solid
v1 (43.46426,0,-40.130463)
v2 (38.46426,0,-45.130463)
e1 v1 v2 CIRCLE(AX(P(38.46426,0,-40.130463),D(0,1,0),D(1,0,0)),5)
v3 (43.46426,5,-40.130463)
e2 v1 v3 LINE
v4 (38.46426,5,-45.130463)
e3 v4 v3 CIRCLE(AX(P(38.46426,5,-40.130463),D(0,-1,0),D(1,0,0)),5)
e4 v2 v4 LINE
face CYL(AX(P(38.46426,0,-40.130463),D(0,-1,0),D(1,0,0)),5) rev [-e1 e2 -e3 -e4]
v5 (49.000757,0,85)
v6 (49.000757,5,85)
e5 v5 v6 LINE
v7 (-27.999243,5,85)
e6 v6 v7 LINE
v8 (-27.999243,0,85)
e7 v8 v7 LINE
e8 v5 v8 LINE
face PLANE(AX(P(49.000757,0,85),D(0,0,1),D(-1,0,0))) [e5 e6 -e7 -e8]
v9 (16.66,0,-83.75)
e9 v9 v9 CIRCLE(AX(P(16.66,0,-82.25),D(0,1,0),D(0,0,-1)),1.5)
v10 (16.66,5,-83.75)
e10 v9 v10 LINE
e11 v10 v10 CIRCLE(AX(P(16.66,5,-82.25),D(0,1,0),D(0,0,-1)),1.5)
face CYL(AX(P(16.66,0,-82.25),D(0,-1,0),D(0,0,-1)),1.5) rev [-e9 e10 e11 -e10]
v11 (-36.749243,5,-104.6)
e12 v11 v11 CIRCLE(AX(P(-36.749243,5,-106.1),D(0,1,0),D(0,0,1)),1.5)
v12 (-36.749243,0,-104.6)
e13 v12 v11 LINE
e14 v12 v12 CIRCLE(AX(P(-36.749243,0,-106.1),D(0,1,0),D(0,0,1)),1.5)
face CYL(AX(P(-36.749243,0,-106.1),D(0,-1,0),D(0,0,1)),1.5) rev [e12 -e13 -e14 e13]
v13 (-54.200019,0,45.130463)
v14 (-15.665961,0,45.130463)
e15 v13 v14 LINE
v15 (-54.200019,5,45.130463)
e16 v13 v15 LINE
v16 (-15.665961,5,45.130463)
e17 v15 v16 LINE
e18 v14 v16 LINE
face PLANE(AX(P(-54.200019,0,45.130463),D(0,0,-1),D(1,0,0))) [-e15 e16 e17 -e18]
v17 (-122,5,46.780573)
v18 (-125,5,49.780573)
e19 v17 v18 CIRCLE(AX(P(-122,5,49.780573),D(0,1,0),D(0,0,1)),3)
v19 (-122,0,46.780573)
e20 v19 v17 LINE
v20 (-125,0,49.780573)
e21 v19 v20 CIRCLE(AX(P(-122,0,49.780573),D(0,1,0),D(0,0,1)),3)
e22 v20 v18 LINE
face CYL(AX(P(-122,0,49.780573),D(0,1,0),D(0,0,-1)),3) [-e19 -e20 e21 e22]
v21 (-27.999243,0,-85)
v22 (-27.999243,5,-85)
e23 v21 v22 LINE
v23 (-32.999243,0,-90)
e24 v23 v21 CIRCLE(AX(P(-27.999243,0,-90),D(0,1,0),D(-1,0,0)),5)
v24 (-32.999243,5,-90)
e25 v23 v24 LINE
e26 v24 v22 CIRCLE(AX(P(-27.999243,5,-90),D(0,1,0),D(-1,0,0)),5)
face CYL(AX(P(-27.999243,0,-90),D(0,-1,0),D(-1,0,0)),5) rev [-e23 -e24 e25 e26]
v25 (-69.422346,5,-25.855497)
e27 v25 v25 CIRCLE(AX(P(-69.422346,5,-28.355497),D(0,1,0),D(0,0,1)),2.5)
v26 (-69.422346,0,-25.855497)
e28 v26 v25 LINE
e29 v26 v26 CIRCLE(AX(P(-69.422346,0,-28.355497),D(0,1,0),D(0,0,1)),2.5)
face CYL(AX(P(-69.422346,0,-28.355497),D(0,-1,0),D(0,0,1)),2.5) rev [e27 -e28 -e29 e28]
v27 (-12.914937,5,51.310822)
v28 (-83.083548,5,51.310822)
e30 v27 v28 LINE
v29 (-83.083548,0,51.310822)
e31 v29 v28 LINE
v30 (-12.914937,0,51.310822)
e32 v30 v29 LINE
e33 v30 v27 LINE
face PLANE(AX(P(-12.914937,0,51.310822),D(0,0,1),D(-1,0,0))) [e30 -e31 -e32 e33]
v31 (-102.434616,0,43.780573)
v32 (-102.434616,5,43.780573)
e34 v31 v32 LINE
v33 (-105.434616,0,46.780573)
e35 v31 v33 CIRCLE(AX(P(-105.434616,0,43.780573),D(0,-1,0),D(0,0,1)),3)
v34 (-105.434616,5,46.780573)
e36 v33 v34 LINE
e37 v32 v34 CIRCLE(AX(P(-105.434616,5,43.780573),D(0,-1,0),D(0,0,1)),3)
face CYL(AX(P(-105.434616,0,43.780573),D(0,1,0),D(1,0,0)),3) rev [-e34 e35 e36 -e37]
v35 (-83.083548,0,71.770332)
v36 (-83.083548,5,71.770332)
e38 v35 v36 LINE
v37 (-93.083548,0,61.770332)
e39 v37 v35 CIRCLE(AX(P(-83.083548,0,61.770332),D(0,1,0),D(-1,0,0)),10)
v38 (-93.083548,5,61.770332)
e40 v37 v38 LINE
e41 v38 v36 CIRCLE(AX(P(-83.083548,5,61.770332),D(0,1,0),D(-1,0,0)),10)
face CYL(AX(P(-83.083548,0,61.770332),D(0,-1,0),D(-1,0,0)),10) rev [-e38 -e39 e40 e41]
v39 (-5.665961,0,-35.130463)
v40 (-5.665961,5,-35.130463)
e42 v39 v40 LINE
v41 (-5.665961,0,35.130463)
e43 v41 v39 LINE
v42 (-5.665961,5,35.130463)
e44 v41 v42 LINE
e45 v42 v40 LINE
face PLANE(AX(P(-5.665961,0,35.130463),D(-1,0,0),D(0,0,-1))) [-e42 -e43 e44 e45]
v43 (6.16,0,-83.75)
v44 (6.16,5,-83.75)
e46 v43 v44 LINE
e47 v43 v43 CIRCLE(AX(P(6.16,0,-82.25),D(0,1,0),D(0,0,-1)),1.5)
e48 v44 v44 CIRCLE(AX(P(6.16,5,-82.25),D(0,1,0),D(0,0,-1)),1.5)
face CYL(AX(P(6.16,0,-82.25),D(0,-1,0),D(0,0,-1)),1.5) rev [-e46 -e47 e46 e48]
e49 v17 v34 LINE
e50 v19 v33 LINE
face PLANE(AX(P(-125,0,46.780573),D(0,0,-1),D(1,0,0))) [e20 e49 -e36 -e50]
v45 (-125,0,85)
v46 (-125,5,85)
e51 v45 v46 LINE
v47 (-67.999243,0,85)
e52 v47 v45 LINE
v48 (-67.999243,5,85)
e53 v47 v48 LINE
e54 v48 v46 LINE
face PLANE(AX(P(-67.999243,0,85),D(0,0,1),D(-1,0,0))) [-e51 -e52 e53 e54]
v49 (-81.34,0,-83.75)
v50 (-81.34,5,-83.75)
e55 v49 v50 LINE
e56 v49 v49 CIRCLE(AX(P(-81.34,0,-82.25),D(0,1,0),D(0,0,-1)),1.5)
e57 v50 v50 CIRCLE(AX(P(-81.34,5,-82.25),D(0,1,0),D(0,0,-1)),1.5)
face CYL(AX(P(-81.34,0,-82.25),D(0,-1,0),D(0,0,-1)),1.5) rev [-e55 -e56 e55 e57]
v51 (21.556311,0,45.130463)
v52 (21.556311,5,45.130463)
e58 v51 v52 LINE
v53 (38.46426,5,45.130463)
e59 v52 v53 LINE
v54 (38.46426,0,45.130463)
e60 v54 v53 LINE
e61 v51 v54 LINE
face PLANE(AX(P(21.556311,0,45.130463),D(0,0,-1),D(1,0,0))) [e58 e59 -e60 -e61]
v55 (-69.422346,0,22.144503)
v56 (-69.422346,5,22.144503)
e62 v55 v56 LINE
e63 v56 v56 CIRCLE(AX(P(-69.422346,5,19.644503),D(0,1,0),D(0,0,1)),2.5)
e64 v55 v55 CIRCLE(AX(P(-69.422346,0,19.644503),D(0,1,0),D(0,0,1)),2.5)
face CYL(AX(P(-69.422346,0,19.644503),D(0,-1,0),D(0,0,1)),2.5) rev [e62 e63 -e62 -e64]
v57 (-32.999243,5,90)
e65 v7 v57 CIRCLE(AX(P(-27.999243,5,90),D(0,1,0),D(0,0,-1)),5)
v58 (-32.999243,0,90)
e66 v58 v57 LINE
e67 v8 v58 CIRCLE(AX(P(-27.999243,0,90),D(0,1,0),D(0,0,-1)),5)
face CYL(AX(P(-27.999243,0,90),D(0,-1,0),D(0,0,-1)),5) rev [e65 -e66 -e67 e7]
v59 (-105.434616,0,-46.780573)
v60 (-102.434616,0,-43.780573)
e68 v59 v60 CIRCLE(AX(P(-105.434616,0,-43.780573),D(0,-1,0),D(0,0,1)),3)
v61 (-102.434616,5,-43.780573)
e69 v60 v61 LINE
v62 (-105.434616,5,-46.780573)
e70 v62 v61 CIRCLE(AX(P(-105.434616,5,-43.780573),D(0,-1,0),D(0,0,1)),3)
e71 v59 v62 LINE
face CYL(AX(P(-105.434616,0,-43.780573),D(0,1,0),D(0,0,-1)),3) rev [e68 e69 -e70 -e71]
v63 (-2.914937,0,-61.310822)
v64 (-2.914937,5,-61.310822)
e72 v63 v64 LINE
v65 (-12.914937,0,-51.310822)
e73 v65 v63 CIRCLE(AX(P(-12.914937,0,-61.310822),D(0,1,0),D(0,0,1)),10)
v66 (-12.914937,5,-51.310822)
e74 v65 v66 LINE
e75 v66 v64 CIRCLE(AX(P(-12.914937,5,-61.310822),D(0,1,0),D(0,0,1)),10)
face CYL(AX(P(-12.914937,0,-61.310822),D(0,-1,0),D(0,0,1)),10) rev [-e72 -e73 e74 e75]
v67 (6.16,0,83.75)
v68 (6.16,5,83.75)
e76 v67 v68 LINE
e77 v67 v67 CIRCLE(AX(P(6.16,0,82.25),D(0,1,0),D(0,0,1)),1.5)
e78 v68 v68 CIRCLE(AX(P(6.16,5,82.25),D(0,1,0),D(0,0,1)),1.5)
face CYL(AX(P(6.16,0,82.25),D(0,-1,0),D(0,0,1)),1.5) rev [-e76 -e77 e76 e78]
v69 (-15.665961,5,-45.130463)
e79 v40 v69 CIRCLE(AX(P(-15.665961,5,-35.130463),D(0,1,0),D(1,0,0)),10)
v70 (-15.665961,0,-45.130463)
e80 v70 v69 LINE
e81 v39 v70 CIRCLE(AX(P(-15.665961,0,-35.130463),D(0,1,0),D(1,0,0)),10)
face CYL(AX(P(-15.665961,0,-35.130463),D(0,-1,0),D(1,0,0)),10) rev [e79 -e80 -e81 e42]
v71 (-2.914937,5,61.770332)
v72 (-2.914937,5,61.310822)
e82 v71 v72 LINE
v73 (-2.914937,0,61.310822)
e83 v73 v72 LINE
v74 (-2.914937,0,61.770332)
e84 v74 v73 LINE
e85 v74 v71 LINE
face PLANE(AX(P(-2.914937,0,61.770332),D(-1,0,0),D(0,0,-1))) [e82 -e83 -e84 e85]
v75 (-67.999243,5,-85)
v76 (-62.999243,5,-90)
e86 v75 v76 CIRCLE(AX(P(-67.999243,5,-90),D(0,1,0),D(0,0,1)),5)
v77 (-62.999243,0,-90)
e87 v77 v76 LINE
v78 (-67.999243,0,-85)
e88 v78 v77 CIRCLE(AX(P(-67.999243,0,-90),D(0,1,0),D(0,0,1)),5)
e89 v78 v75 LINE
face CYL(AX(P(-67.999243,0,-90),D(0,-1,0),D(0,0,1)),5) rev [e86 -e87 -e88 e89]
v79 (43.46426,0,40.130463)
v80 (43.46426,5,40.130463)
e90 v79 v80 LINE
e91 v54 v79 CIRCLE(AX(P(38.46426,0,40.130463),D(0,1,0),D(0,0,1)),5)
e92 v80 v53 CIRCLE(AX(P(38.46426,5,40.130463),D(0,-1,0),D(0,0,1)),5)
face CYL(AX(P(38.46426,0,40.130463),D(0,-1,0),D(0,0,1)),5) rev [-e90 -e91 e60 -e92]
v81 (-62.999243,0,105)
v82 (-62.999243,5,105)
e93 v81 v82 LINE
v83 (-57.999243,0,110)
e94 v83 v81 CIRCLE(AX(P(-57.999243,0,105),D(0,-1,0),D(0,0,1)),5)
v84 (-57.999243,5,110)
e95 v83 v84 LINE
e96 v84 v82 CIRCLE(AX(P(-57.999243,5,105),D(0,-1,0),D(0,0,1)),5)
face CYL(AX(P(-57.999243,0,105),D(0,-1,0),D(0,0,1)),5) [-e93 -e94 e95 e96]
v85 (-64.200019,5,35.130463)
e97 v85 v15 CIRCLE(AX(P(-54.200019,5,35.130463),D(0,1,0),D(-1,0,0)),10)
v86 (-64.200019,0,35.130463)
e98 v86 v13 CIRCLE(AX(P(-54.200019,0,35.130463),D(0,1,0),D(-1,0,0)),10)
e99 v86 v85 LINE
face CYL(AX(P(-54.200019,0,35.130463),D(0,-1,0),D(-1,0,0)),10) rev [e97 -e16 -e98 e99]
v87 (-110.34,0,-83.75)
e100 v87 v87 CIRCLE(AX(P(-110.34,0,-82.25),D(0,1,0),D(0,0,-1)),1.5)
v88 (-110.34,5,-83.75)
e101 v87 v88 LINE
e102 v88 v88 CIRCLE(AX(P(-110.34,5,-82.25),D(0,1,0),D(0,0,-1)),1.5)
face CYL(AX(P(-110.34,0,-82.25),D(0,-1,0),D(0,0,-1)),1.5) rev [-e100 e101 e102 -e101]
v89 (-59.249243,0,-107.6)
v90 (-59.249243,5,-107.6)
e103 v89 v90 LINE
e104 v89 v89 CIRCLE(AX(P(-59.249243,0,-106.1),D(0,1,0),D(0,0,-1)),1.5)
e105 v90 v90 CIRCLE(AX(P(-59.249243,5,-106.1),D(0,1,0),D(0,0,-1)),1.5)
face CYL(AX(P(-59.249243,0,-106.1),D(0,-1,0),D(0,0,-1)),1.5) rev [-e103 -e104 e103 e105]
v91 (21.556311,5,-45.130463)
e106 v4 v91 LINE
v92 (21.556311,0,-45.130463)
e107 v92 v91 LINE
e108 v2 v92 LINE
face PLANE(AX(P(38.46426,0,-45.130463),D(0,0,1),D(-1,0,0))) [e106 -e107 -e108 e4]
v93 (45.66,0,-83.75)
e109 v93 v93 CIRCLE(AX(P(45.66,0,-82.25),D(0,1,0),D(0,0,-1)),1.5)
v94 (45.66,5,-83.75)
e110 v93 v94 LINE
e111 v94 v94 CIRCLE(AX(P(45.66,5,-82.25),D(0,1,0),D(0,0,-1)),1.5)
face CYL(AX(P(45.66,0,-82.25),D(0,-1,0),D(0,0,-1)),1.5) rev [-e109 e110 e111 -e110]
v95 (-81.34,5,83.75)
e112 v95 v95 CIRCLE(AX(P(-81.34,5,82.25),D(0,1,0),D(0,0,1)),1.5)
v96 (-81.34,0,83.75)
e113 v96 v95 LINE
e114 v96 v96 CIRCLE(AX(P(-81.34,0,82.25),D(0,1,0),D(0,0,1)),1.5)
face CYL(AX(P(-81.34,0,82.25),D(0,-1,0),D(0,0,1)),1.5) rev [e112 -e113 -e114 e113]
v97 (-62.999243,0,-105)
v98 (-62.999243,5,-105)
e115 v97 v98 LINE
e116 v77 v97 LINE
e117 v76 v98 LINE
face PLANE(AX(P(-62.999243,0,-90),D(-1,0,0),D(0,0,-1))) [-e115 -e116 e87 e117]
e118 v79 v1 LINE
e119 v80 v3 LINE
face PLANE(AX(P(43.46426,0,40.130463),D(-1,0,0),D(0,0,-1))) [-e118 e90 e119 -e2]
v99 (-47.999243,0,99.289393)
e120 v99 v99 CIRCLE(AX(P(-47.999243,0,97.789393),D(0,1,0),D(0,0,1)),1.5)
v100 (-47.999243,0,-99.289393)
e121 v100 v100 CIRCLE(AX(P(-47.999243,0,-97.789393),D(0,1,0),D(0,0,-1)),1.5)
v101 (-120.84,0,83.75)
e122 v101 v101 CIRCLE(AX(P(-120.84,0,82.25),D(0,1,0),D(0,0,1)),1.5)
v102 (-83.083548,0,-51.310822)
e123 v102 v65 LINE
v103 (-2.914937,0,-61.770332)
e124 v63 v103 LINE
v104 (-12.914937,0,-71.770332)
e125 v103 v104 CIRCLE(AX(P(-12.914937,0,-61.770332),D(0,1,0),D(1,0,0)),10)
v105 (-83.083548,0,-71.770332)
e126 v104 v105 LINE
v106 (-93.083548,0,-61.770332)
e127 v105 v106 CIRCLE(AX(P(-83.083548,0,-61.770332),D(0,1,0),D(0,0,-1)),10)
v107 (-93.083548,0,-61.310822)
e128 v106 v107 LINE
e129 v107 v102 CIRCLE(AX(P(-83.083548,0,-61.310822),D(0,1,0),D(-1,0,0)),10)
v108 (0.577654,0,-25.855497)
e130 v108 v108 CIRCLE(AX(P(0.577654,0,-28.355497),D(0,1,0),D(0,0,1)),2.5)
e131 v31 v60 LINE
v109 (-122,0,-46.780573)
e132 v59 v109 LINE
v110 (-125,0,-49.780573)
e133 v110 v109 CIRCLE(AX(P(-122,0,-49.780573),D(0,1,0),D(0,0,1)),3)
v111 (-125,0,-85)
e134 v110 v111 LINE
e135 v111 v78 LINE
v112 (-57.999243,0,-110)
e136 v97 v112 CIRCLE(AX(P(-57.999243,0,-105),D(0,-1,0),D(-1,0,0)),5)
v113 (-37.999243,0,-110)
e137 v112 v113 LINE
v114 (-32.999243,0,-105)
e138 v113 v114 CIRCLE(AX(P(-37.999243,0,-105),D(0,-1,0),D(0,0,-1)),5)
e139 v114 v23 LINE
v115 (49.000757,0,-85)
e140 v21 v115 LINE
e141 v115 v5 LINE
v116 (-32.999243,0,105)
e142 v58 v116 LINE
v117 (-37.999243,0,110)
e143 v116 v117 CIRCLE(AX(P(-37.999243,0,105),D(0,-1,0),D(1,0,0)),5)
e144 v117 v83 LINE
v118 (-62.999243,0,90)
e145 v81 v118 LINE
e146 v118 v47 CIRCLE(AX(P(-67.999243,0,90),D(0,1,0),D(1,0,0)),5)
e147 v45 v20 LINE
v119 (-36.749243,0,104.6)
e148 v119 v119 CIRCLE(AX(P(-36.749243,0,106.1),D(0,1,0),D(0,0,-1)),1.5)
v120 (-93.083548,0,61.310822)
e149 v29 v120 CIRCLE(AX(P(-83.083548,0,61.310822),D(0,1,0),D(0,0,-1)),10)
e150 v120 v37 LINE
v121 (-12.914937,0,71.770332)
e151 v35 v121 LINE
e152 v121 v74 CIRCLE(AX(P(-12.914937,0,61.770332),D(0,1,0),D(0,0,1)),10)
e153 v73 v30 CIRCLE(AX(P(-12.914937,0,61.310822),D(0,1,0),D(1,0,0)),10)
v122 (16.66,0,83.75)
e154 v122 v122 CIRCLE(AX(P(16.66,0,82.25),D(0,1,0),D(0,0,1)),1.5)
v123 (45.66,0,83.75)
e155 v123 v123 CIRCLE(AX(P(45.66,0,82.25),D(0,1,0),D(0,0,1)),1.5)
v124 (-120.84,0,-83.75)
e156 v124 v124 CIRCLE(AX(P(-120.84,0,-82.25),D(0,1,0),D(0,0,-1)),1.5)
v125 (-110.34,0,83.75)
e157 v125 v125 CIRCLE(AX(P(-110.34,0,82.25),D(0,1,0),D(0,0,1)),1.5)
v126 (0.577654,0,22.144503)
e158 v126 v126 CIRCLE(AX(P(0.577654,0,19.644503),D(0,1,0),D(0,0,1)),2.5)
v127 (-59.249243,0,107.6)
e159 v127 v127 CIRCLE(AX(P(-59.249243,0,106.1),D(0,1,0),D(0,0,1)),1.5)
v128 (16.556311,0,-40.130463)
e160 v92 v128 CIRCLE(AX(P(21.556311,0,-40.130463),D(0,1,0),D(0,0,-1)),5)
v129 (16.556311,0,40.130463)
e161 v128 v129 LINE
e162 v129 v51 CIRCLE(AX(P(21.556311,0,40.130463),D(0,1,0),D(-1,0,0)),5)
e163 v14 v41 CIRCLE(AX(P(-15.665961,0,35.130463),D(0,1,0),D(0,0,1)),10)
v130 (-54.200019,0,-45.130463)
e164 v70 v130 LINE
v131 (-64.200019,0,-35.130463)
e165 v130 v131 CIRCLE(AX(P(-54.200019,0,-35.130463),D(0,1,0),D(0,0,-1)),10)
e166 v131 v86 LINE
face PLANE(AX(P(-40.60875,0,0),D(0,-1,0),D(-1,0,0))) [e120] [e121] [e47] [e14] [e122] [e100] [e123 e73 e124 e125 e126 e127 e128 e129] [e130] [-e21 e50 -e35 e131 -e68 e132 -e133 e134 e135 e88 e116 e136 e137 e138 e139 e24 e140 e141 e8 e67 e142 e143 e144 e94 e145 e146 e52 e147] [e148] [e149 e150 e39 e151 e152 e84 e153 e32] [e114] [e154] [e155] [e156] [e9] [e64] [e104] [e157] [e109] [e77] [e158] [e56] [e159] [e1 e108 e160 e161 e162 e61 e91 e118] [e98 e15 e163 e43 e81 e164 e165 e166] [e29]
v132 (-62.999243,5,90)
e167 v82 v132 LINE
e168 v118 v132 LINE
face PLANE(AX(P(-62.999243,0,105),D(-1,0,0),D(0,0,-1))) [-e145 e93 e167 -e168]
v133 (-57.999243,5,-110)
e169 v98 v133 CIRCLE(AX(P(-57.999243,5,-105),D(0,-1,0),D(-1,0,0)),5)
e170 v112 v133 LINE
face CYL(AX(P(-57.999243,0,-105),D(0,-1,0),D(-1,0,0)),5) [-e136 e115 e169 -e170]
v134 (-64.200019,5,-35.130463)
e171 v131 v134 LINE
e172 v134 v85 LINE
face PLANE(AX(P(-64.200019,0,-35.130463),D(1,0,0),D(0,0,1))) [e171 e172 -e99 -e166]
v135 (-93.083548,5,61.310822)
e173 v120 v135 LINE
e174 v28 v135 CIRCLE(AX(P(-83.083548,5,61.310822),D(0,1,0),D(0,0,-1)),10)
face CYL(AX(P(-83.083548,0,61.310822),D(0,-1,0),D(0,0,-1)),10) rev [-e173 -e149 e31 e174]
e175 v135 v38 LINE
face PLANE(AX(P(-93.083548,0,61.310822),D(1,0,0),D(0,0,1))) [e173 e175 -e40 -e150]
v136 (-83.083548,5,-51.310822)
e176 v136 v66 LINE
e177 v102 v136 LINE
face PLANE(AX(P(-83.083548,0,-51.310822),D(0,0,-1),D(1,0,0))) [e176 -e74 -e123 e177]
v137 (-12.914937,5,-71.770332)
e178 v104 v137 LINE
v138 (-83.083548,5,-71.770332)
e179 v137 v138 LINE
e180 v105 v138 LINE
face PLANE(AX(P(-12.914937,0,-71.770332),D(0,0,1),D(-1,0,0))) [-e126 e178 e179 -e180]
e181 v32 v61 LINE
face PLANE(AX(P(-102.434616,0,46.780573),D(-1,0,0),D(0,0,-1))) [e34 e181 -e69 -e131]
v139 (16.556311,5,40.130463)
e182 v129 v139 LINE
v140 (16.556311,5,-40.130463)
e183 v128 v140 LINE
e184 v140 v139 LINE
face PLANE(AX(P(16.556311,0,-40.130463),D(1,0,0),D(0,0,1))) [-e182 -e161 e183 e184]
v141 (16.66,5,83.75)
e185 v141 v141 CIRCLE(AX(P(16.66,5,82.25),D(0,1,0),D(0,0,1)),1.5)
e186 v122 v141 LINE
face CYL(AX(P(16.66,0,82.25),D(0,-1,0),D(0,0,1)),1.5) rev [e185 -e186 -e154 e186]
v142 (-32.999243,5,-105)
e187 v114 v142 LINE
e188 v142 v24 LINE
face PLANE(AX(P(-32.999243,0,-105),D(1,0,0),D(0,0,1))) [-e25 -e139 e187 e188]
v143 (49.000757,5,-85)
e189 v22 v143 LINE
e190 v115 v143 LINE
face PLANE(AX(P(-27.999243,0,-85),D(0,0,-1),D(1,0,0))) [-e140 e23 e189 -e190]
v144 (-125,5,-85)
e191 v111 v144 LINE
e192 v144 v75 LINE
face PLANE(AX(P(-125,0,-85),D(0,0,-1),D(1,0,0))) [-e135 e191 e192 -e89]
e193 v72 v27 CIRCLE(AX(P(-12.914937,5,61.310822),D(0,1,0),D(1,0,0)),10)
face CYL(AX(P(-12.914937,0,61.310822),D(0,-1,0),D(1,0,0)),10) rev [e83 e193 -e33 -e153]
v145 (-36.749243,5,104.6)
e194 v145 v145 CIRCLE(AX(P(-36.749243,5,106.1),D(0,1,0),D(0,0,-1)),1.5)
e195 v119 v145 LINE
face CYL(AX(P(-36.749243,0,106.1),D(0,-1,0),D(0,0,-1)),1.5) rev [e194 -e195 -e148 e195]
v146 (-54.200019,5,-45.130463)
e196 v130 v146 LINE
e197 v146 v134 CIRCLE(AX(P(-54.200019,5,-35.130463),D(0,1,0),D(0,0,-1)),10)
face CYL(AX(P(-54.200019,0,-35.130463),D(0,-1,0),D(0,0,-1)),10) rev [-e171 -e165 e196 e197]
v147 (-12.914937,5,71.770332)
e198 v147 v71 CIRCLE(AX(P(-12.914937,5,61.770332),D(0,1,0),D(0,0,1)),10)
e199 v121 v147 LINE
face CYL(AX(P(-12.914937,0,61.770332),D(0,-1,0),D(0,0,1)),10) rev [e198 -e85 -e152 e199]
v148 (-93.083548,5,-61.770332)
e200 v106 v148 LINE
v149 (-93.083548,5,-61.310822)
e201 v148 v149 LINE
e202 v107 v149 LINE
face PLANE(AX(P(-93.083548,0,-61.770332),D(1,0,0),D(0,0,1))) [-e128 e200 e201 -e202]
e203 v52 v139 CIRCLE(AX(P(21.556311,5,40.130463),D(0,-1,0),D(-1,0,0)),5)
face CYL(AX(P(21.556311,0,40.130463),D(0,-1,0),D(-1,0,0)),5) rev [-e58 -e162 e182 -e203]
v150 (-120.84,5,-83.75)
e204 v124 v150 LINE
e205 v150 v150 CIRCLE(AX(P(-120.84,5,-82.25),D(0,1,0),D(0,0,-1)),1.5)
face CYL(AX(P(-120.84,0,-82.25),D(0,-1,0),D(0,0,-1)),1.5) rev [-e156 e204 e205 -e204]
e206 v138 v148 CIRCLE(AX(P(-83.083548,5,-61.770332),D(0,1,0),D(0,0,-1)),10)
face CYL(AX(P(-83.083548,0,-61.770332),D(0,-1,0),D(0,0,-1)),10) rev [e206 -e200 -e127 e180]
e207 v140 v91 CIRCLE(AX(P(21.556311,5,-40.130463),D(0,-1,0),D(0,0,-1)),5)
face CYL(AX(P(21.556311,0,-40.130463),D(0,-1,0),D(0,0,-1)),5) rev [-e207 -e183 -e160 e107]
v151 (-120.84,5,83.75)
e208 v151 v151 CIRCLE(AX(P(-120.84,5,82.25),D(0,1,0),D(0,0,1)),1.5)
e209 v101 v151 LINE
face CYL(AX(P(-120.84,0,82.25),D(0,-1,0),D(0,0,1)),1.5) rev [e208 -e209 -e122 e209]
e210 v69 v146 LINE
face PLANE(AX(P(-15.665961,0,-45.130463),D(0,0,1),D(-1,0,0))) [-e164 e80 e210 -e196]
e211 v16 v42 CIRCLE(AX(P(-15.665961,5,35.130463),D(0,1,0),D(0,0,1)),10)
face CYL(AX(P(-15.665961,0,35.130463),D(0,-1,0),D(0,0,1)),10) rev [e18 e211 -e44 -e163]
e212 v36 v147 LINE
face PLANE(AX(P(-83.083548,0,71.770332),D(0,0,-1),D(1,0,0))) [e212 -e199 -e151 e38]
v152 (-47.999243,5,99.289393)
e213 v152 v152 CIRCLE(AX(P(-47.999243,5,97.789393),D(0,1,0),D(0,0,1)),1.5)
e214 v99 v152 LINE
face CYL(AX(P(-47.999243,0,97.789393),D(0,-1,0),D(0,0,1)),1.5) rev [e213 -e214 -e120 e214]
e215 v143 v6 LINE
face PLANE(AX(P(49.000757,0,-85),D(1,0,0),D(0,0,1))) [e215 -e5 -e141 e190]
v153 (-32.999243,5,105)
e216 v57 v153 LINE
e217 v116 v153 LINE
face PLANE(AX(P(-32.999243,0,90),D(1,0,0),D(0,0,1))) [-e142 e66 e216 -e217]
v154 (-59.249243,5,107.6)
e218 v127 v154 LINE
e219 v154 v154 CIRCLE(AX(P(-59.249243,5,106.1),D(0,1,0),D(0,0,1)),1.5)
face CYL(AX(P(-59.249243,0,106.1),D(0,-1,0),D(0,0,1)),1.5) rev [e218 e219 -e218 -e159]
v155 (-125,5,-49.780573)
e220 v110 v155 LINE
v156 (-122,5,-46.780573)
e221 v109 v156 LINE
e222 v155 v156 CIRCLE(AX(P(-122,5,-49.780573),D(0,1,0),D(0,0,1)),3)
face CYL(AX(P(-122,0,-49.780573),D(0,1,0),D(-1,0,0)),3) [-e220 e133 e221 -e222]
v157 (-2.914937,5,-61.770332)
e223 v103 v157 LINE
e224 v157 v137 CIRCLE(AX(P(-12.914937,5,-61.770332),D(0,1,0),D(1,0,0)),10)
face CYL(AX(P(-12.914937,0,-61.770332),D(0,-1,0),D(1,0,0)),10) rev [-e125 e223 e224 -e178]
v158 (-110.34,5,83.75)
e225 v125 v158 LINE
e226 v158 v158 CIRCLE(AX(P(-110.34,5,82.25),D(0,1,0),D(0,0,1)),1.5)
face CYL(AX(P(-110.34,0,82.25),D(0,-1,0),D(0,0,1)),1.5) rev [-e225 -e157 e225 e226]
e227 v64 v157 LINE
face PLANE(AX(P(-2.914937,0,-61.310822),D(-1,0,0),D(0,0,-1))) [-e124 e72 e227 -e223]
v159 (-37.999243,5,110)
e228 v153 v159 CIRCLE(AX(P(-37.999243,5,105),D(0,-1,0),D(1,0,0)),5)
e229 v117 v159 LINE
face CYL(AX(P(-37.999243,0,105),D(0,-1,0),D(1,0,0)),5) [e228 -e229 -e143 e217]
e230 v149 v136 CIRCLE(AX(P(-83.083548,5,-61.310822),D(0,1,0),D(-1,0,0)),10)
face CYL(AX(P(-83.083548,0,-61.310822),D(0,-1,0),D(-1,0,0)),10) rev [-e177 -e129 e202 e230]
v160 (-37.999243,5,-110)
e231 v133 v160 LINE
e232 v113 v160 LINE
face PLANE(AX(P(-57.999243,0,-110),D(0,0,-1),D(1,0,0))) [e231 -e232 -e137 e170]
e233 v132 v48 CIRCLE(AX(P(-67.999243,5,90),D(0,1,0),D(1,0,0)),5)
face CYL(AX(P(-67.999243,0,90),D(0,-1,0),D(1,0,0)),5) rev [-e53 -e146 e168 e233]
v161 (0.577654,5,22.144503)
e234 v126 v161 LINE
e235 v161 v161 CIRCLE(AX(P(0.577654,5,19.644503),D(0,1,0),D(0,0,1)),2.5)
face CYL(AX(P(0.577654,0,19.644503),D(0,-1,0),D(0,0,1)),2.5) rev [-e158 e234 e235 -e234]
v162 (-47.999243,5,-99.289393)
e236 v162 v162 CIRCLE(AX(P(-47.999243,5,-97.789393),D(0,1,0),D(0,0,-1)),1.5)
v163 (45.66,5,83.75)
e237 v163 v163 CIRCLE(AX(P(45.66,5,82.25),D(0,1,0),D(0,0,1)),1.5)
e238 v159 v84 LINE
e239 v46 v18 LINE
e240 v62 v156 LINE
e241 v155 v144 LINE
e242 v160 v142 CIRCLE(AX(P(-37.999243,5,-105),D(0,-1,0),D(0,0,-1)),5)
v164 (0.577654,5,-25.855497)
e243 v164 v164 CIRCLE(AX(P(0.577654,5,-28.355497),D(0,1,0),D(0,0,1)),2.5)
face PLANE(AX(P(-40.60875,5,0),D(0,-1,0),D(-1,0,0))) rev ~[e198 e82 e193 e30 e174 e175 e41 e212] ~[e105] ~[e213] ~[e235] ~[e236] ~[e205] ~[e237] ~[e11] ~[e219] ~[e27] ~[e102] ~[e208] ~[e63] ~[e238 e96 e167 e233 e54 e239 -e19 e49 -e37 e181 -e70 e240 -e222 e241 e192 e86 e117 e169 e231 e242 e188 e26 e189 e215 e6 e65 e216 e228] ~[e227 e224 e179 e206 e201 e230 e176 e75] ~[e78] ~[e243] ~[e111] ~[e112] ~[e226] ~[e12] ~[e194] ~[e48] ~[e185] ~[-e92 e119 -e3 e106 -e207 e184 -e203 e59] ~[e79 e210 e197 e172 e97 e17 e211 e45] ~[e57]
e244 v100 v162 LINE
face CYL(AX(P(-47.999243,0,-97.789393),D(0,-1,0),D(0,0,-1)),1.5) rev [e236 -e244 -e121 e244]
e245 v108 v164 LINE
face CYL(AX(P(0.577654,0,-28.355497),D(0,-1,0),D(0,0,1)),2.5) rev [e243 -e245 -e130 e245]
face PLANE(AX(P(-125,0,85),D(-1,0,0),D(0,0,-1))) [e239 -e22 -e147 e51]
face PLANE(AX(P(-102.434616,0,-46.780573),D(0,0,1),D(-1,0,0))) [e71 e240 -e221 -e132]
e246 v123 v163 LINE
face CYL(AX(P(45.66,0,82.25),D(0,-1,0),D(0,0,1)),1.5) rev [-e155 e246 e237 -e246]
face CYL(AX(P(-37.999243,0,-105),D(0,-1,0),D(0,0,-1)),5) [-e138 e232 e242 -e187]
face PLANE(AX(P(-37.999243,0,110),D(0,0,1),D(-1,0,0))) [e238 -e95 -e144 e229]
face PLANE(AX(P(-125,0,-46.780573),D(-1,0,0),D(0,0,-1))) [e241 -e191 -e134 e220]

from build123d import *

# Parameters (mm, degrees)
SKETCH_1_R          = 1.5
SKETCH_1_R_2        = 2.5
EXTRUDE_1_DEPTH     = 5
CUT_EXTRUDE_1_DEPTH = 167.58331249
FILLET_1_R          = 3


with BuildPart() as part:
    # 草图1 → 凸台-拉伸1 (new body)
    with BuildSketch(Plane(origin=(0, 0, 0), x_dir=(1, 0, 0), z_dir=(0, 1, 0))):
        with BuildLine():
            Line((-125, 85), (-67.999242617, 85))
            ThreePointArc((-67.999242617, 85), (-64.463708711, 86.464466094), (-62.999242617, 90))
            Line((-62.999242617, 90), (-62.999242617, 105))
            ThreePointArc((-62.999242617, 105), (-61.534776523, 108.535533906), (-57.999242617, 110))
            Line((-57.999242617, 110), (-37.999242617, 110))
            ThreePointArc((-37.999242617, 110), (-34.463708711, 108.535533906), (-32.999242617, 105))
            Line((-32.999242617, 105), (-32.999242617, 90))
            ThreePointArc((-32.999242617, 90), (-31.534776523, 86.464466094), (-27.999242617, 85))
            Line((-27.999242617, 85), (49.000757383, 85))
            Line((49.000757383, 85), (49.000757383, -85))
            Line((49.000757383, -85), (-27.999242617, -85))
            ThreePointArc((-27.999242617, -85), (-31.534776523, -86.464466094), (-32.999242617, -90))
            Line((-32.999242617, -90), (-32.999242617, -105))
            ThreePointArc((-32.999242617, -105), (-34.463708711, -108.535533906), (-37.999242617, -110))
            Line((-37.999242617, -110), (-57.999242617, -110))
            ThreePointArc((-57.999242617, -110), (-61.534776523, -108.535533906), (-62.999242617, -105))
            Line((-62.999242617, -105), (-62.999242617, -90))
            ThreePointArc((-62.999242617, -90), (-64.463708711, -86.464466094), (-67.999242617, -85))
            Line((-67.999242617, -85), (-125, -85))
            Line((-125, -85), (-125, -46.78057254))
            Line((-125, -46.78057254), (-102.434615997, -46.78057254))
            Line((-102.434615997, -46.78057254), (-102.434615997, 46.78057254))
            Line((-102.434615997, 46.78057254), (-125, 46.78057254))
            Line((-125, 46.78057254), (-125, 85))
        make_face()
        with Locations(Location((-120.84, -82.25, 0), (0, 0, 270))):
            Circle(SKETCH_1_R, mode=Mode.SUBTRACT)
        with Locations(Location((-110.34, -82.25, 0), (0, 0, 270))):
            Circle(SKETCH_1_R, mode=Mode.SUBTRACT)
        with Locations(Location((-81.34, -82.25, 0), (0, 0, 270))):
            Circle(SKETCH_1_R, mode=Mode.SUBTRACT)
        with Locations(Location((-81.34, 82.25, 0), (0, 0, 90))):
            Circle(SKETCH_1_R, mode=Mode.SUBTRACT)
        with Locations(Location((-110.34, 82.25, 0), (0, 0, 90))):
            Circle(SKETCH_1_R, mode=Mode.SUBTRACT)
        with Locations(Location((-120.84, 82.25, 0), (0, 0, 90))):
            Circle(SKETCH_1_R, mode=Mode.SUBTRACT)
        with Locations(Location((6.16, 82.25, 0), (0, 0, 90))):
            Circle(SKETCH_1_R, mode=Mode.SUBTRACT)
        with Locations(Location((16.66, 82.25, 0), (0, 0, 90))):
            Circle(SKETCH_1_R, mode=Mode.SUBTRACT)
        with Locations(Location((45.66, 82.25, 0), (0, 0, 90))):
            Circle(SKETCH_1_R, mode=Mode.SUBTRACT)
        with Locations(Location((6.16, -82.25, 0), (0, 0, 270))):
            Circle(SKETCH_1_R, mode=Mode.SUBTRACT)
        with Locations(Location((16.66, -82.25, 0), (0, 0, 270))):
            Circle(SKETCH_1_R, mode=Mode.SUBTRACT)
        with Locations(Location((45.66, -82.25, 0), (0, 0, 270))):
            Circle(SKETCH_1_R, mode=Mode.SUBTRACT)
        with Locations(Location((-69.422345539, 28.355497102, 0), (0, 0, 270))):
            Circle(SKETCH_1_R_2, mode=Mode.SUBTRACT)
        with Locations(Location((0.577654461, 28.355497102, 0), (0, 0, 270))):
            Circle(SKETCH_1_R_2, mode=Mode.SUBTRACT)
        with Locations(Location((-69.422345539, -19.644502898, 0), (0, 0, 270))):
            Circle(SKETCH_1_R_2, mode=Mode.SUBTRACT)
        with Locations(Location((0.577654461, -19.644502898, 0), (0, 0, 270))):
            Circle(SKETCH_1_R_2, mode=Mode.SUBTRACT)
        with Locations(Location((-59.249242617, -106.1, 0), (0, 0, 270))):
            Circle(SKETCH_1_R, mode=Mode.SUBTRACT)
        with Locations(Location((-36.749242617, -106.1, 0), (0, 0, 90))):
            Circle(SKETCH_1_R, mode=Mode.SUBTRACT)
        with Locations(Location((-47.999242617, -97.789393477, 0), (0, 0, 270))):
            Circle(SKETCH_1_R, mode=Mode.SUBTRACT)
        with Locations(Location((-36.749242617, 106.1, 0), (0, 0, 270))):
            Circle(SKETCH_1_R, mode=Mode.SUBTRACT)
        with Locations(Location((-59.249242617, 106.1, 0), (0, 0, 90))):
            Circle(SKETCH_1_R, mode=Mode.SUBTRACT)
        with Locations(Location((-47.999242617, 97.789393477, 0), (0, 0, 90))):
            Circle(SKETCH_1_R, mode=Mode.SUBTRACT)
        with BuildLine():
            Line((-12.914937196, -51.31082178), (-83.083548039, -51.31082178))
            ThreePointArc((-83.083548039, -51.31082178), (-90.154615851, -54.239753968), (-93.083548039, -61.31082178))
            Line((-93.083548039, -61.31082178), (-93.083548039, -61.770331604))
            ThreePointArc((-93.083548039, -61.770331604), (-90.154615851, -68.841399416), (-83.083548039, -71.770331604))
            Line((-83.083548039, -71.770331604), (-12.914937196, -71.770331604))
            ThreePointArc((-12.914937196, -71.770331604), (-5.843869384, -68.841399416), (-2.914937196, -61.770331604))
            Line((-2.914937196, -61.770331604), (-2.914937196, -61.31082178))
            ThreePointArc((-2.914937196, -61.31082178), (-5.843869384, -54.239753968), (-12.914937196, -51.31082178))
        make_face(mode=Mode.SUBTRACT)
        with BuildLine():
            Line((-12.914937196, 71.770331604), (-83.083548039, 71.770331604))
            ThreePointArc((-83.083548039, 71.770331604), (-90.154615851, 68.841399416), (-93.083548039, 61.770331604))
            Line((-93.083548039, 61.770331604), (-93.083548039, 61.31082178))
            ThreePointArc((-93.083548039, 61.31082178), (-90.154615851, 54.239753968), (-83.083548039, 51.31082178))
            Line((-83.083548039, 51.31082178), (-12.914937196, 51.31082178))
            ThreePointArc((-12.914937196, 51.31082178), (-5.843869384, 54.239753968), (-2.914937196, 61.31082178))
            Line((-2.914937196, 61.31082178), (-2.914937196, 61.770331604))
            ThreePointArc((-2.914937196, 61.770331604), (-5.843869384, 68.841399416), (-12.914937196, 71.770331604))
        make_face(mode=Mode.SUBTRACT)
        with BuildLine():
            Line((-15.665960641, 45.130463402), (-54.200019018, 45.130463402))
            ThreePointArc((-54.200019018, 45.130463402), (-61.27108683, 42.201531214), (-64.200019018, 35.130463402))
            Line((-64.200019018, 35.130463402), (-64.200019018, -35.130463402))
            ThreePointArc((-64.200019018, -35.130463402), (-61.27108683, -42.201531214), (-54.200019018, -45.130463402))
            Line((-54.200019018, -45.130463402), (-15.665960641, -45.130463402))
            ThreePointArc((-15.665960641, -45.130463402), (-8.594892829, -42.201531214), (-5.665960641, -35.130463402))
            Line((-5.665960641, -35.130463402), (-5.665960641, 35.130463402))
            ThreePointArc((-5.665960641, 35.130463402), (-8.594892829, 42.201531214), (-15.665960641, 45.130463402))
        make_face(mode=Mode.SUBTRACT)
    extrude(amount=EXTRUDE_1_DEPTH)

    # 草图2 → 切除-拉伸1 (cut, through all)
    with BuildSketch(Plane.XZ):
        with BuildLine():
            Line((21.556311208, 45.130463402), (38.464260393, 45.130463402))
            ThreePointArc((38.464260393, 45.130463402), (41.999794299, 43.665997308), (43.464260393, 40.130463402))
            Line((43.464260393, 40.130463402), (43.464260393, -40.130463402))
            ThreePointArc((43.464260393, -40.130463402), (41.999794299, -43.665997308), (38.464260393, -45.130463402))
            Line((38.464260393, -45.130463402), (21.556311208, -45.130463402))
            ThreePointArc((21.556311208, -45.130463402), (18.020777302, -43.665997308), (16.556311208, -40.130463402))
            Line((16.556311208, -40.130463402), (16.556311208, 40.130463402))
            ThreePointArc((16.556311208, 40.130463402), (18.020777302, 43.665997308), (21.556311208, 45.130463402))
        make_face()
    extrude(amount=-CUT_EXTRUDE_1_DEPTH, mode=Mode.SUBTRACT)

    # 圆角1
    fillet_1_edges = [part.edges().sort_by_distance(p)[0] for p in [
        (-125, 2.5, 46.78057254),
        (-102.434615997, 2.5, 46.78057254),
        (-102.434615997, 2.5, -46.78057254),
        (-125, 2.5, -46.78057254),
    ]]
    fillet(fillet_1_edges, radius=FILLET_1_R)


solid = part.part
